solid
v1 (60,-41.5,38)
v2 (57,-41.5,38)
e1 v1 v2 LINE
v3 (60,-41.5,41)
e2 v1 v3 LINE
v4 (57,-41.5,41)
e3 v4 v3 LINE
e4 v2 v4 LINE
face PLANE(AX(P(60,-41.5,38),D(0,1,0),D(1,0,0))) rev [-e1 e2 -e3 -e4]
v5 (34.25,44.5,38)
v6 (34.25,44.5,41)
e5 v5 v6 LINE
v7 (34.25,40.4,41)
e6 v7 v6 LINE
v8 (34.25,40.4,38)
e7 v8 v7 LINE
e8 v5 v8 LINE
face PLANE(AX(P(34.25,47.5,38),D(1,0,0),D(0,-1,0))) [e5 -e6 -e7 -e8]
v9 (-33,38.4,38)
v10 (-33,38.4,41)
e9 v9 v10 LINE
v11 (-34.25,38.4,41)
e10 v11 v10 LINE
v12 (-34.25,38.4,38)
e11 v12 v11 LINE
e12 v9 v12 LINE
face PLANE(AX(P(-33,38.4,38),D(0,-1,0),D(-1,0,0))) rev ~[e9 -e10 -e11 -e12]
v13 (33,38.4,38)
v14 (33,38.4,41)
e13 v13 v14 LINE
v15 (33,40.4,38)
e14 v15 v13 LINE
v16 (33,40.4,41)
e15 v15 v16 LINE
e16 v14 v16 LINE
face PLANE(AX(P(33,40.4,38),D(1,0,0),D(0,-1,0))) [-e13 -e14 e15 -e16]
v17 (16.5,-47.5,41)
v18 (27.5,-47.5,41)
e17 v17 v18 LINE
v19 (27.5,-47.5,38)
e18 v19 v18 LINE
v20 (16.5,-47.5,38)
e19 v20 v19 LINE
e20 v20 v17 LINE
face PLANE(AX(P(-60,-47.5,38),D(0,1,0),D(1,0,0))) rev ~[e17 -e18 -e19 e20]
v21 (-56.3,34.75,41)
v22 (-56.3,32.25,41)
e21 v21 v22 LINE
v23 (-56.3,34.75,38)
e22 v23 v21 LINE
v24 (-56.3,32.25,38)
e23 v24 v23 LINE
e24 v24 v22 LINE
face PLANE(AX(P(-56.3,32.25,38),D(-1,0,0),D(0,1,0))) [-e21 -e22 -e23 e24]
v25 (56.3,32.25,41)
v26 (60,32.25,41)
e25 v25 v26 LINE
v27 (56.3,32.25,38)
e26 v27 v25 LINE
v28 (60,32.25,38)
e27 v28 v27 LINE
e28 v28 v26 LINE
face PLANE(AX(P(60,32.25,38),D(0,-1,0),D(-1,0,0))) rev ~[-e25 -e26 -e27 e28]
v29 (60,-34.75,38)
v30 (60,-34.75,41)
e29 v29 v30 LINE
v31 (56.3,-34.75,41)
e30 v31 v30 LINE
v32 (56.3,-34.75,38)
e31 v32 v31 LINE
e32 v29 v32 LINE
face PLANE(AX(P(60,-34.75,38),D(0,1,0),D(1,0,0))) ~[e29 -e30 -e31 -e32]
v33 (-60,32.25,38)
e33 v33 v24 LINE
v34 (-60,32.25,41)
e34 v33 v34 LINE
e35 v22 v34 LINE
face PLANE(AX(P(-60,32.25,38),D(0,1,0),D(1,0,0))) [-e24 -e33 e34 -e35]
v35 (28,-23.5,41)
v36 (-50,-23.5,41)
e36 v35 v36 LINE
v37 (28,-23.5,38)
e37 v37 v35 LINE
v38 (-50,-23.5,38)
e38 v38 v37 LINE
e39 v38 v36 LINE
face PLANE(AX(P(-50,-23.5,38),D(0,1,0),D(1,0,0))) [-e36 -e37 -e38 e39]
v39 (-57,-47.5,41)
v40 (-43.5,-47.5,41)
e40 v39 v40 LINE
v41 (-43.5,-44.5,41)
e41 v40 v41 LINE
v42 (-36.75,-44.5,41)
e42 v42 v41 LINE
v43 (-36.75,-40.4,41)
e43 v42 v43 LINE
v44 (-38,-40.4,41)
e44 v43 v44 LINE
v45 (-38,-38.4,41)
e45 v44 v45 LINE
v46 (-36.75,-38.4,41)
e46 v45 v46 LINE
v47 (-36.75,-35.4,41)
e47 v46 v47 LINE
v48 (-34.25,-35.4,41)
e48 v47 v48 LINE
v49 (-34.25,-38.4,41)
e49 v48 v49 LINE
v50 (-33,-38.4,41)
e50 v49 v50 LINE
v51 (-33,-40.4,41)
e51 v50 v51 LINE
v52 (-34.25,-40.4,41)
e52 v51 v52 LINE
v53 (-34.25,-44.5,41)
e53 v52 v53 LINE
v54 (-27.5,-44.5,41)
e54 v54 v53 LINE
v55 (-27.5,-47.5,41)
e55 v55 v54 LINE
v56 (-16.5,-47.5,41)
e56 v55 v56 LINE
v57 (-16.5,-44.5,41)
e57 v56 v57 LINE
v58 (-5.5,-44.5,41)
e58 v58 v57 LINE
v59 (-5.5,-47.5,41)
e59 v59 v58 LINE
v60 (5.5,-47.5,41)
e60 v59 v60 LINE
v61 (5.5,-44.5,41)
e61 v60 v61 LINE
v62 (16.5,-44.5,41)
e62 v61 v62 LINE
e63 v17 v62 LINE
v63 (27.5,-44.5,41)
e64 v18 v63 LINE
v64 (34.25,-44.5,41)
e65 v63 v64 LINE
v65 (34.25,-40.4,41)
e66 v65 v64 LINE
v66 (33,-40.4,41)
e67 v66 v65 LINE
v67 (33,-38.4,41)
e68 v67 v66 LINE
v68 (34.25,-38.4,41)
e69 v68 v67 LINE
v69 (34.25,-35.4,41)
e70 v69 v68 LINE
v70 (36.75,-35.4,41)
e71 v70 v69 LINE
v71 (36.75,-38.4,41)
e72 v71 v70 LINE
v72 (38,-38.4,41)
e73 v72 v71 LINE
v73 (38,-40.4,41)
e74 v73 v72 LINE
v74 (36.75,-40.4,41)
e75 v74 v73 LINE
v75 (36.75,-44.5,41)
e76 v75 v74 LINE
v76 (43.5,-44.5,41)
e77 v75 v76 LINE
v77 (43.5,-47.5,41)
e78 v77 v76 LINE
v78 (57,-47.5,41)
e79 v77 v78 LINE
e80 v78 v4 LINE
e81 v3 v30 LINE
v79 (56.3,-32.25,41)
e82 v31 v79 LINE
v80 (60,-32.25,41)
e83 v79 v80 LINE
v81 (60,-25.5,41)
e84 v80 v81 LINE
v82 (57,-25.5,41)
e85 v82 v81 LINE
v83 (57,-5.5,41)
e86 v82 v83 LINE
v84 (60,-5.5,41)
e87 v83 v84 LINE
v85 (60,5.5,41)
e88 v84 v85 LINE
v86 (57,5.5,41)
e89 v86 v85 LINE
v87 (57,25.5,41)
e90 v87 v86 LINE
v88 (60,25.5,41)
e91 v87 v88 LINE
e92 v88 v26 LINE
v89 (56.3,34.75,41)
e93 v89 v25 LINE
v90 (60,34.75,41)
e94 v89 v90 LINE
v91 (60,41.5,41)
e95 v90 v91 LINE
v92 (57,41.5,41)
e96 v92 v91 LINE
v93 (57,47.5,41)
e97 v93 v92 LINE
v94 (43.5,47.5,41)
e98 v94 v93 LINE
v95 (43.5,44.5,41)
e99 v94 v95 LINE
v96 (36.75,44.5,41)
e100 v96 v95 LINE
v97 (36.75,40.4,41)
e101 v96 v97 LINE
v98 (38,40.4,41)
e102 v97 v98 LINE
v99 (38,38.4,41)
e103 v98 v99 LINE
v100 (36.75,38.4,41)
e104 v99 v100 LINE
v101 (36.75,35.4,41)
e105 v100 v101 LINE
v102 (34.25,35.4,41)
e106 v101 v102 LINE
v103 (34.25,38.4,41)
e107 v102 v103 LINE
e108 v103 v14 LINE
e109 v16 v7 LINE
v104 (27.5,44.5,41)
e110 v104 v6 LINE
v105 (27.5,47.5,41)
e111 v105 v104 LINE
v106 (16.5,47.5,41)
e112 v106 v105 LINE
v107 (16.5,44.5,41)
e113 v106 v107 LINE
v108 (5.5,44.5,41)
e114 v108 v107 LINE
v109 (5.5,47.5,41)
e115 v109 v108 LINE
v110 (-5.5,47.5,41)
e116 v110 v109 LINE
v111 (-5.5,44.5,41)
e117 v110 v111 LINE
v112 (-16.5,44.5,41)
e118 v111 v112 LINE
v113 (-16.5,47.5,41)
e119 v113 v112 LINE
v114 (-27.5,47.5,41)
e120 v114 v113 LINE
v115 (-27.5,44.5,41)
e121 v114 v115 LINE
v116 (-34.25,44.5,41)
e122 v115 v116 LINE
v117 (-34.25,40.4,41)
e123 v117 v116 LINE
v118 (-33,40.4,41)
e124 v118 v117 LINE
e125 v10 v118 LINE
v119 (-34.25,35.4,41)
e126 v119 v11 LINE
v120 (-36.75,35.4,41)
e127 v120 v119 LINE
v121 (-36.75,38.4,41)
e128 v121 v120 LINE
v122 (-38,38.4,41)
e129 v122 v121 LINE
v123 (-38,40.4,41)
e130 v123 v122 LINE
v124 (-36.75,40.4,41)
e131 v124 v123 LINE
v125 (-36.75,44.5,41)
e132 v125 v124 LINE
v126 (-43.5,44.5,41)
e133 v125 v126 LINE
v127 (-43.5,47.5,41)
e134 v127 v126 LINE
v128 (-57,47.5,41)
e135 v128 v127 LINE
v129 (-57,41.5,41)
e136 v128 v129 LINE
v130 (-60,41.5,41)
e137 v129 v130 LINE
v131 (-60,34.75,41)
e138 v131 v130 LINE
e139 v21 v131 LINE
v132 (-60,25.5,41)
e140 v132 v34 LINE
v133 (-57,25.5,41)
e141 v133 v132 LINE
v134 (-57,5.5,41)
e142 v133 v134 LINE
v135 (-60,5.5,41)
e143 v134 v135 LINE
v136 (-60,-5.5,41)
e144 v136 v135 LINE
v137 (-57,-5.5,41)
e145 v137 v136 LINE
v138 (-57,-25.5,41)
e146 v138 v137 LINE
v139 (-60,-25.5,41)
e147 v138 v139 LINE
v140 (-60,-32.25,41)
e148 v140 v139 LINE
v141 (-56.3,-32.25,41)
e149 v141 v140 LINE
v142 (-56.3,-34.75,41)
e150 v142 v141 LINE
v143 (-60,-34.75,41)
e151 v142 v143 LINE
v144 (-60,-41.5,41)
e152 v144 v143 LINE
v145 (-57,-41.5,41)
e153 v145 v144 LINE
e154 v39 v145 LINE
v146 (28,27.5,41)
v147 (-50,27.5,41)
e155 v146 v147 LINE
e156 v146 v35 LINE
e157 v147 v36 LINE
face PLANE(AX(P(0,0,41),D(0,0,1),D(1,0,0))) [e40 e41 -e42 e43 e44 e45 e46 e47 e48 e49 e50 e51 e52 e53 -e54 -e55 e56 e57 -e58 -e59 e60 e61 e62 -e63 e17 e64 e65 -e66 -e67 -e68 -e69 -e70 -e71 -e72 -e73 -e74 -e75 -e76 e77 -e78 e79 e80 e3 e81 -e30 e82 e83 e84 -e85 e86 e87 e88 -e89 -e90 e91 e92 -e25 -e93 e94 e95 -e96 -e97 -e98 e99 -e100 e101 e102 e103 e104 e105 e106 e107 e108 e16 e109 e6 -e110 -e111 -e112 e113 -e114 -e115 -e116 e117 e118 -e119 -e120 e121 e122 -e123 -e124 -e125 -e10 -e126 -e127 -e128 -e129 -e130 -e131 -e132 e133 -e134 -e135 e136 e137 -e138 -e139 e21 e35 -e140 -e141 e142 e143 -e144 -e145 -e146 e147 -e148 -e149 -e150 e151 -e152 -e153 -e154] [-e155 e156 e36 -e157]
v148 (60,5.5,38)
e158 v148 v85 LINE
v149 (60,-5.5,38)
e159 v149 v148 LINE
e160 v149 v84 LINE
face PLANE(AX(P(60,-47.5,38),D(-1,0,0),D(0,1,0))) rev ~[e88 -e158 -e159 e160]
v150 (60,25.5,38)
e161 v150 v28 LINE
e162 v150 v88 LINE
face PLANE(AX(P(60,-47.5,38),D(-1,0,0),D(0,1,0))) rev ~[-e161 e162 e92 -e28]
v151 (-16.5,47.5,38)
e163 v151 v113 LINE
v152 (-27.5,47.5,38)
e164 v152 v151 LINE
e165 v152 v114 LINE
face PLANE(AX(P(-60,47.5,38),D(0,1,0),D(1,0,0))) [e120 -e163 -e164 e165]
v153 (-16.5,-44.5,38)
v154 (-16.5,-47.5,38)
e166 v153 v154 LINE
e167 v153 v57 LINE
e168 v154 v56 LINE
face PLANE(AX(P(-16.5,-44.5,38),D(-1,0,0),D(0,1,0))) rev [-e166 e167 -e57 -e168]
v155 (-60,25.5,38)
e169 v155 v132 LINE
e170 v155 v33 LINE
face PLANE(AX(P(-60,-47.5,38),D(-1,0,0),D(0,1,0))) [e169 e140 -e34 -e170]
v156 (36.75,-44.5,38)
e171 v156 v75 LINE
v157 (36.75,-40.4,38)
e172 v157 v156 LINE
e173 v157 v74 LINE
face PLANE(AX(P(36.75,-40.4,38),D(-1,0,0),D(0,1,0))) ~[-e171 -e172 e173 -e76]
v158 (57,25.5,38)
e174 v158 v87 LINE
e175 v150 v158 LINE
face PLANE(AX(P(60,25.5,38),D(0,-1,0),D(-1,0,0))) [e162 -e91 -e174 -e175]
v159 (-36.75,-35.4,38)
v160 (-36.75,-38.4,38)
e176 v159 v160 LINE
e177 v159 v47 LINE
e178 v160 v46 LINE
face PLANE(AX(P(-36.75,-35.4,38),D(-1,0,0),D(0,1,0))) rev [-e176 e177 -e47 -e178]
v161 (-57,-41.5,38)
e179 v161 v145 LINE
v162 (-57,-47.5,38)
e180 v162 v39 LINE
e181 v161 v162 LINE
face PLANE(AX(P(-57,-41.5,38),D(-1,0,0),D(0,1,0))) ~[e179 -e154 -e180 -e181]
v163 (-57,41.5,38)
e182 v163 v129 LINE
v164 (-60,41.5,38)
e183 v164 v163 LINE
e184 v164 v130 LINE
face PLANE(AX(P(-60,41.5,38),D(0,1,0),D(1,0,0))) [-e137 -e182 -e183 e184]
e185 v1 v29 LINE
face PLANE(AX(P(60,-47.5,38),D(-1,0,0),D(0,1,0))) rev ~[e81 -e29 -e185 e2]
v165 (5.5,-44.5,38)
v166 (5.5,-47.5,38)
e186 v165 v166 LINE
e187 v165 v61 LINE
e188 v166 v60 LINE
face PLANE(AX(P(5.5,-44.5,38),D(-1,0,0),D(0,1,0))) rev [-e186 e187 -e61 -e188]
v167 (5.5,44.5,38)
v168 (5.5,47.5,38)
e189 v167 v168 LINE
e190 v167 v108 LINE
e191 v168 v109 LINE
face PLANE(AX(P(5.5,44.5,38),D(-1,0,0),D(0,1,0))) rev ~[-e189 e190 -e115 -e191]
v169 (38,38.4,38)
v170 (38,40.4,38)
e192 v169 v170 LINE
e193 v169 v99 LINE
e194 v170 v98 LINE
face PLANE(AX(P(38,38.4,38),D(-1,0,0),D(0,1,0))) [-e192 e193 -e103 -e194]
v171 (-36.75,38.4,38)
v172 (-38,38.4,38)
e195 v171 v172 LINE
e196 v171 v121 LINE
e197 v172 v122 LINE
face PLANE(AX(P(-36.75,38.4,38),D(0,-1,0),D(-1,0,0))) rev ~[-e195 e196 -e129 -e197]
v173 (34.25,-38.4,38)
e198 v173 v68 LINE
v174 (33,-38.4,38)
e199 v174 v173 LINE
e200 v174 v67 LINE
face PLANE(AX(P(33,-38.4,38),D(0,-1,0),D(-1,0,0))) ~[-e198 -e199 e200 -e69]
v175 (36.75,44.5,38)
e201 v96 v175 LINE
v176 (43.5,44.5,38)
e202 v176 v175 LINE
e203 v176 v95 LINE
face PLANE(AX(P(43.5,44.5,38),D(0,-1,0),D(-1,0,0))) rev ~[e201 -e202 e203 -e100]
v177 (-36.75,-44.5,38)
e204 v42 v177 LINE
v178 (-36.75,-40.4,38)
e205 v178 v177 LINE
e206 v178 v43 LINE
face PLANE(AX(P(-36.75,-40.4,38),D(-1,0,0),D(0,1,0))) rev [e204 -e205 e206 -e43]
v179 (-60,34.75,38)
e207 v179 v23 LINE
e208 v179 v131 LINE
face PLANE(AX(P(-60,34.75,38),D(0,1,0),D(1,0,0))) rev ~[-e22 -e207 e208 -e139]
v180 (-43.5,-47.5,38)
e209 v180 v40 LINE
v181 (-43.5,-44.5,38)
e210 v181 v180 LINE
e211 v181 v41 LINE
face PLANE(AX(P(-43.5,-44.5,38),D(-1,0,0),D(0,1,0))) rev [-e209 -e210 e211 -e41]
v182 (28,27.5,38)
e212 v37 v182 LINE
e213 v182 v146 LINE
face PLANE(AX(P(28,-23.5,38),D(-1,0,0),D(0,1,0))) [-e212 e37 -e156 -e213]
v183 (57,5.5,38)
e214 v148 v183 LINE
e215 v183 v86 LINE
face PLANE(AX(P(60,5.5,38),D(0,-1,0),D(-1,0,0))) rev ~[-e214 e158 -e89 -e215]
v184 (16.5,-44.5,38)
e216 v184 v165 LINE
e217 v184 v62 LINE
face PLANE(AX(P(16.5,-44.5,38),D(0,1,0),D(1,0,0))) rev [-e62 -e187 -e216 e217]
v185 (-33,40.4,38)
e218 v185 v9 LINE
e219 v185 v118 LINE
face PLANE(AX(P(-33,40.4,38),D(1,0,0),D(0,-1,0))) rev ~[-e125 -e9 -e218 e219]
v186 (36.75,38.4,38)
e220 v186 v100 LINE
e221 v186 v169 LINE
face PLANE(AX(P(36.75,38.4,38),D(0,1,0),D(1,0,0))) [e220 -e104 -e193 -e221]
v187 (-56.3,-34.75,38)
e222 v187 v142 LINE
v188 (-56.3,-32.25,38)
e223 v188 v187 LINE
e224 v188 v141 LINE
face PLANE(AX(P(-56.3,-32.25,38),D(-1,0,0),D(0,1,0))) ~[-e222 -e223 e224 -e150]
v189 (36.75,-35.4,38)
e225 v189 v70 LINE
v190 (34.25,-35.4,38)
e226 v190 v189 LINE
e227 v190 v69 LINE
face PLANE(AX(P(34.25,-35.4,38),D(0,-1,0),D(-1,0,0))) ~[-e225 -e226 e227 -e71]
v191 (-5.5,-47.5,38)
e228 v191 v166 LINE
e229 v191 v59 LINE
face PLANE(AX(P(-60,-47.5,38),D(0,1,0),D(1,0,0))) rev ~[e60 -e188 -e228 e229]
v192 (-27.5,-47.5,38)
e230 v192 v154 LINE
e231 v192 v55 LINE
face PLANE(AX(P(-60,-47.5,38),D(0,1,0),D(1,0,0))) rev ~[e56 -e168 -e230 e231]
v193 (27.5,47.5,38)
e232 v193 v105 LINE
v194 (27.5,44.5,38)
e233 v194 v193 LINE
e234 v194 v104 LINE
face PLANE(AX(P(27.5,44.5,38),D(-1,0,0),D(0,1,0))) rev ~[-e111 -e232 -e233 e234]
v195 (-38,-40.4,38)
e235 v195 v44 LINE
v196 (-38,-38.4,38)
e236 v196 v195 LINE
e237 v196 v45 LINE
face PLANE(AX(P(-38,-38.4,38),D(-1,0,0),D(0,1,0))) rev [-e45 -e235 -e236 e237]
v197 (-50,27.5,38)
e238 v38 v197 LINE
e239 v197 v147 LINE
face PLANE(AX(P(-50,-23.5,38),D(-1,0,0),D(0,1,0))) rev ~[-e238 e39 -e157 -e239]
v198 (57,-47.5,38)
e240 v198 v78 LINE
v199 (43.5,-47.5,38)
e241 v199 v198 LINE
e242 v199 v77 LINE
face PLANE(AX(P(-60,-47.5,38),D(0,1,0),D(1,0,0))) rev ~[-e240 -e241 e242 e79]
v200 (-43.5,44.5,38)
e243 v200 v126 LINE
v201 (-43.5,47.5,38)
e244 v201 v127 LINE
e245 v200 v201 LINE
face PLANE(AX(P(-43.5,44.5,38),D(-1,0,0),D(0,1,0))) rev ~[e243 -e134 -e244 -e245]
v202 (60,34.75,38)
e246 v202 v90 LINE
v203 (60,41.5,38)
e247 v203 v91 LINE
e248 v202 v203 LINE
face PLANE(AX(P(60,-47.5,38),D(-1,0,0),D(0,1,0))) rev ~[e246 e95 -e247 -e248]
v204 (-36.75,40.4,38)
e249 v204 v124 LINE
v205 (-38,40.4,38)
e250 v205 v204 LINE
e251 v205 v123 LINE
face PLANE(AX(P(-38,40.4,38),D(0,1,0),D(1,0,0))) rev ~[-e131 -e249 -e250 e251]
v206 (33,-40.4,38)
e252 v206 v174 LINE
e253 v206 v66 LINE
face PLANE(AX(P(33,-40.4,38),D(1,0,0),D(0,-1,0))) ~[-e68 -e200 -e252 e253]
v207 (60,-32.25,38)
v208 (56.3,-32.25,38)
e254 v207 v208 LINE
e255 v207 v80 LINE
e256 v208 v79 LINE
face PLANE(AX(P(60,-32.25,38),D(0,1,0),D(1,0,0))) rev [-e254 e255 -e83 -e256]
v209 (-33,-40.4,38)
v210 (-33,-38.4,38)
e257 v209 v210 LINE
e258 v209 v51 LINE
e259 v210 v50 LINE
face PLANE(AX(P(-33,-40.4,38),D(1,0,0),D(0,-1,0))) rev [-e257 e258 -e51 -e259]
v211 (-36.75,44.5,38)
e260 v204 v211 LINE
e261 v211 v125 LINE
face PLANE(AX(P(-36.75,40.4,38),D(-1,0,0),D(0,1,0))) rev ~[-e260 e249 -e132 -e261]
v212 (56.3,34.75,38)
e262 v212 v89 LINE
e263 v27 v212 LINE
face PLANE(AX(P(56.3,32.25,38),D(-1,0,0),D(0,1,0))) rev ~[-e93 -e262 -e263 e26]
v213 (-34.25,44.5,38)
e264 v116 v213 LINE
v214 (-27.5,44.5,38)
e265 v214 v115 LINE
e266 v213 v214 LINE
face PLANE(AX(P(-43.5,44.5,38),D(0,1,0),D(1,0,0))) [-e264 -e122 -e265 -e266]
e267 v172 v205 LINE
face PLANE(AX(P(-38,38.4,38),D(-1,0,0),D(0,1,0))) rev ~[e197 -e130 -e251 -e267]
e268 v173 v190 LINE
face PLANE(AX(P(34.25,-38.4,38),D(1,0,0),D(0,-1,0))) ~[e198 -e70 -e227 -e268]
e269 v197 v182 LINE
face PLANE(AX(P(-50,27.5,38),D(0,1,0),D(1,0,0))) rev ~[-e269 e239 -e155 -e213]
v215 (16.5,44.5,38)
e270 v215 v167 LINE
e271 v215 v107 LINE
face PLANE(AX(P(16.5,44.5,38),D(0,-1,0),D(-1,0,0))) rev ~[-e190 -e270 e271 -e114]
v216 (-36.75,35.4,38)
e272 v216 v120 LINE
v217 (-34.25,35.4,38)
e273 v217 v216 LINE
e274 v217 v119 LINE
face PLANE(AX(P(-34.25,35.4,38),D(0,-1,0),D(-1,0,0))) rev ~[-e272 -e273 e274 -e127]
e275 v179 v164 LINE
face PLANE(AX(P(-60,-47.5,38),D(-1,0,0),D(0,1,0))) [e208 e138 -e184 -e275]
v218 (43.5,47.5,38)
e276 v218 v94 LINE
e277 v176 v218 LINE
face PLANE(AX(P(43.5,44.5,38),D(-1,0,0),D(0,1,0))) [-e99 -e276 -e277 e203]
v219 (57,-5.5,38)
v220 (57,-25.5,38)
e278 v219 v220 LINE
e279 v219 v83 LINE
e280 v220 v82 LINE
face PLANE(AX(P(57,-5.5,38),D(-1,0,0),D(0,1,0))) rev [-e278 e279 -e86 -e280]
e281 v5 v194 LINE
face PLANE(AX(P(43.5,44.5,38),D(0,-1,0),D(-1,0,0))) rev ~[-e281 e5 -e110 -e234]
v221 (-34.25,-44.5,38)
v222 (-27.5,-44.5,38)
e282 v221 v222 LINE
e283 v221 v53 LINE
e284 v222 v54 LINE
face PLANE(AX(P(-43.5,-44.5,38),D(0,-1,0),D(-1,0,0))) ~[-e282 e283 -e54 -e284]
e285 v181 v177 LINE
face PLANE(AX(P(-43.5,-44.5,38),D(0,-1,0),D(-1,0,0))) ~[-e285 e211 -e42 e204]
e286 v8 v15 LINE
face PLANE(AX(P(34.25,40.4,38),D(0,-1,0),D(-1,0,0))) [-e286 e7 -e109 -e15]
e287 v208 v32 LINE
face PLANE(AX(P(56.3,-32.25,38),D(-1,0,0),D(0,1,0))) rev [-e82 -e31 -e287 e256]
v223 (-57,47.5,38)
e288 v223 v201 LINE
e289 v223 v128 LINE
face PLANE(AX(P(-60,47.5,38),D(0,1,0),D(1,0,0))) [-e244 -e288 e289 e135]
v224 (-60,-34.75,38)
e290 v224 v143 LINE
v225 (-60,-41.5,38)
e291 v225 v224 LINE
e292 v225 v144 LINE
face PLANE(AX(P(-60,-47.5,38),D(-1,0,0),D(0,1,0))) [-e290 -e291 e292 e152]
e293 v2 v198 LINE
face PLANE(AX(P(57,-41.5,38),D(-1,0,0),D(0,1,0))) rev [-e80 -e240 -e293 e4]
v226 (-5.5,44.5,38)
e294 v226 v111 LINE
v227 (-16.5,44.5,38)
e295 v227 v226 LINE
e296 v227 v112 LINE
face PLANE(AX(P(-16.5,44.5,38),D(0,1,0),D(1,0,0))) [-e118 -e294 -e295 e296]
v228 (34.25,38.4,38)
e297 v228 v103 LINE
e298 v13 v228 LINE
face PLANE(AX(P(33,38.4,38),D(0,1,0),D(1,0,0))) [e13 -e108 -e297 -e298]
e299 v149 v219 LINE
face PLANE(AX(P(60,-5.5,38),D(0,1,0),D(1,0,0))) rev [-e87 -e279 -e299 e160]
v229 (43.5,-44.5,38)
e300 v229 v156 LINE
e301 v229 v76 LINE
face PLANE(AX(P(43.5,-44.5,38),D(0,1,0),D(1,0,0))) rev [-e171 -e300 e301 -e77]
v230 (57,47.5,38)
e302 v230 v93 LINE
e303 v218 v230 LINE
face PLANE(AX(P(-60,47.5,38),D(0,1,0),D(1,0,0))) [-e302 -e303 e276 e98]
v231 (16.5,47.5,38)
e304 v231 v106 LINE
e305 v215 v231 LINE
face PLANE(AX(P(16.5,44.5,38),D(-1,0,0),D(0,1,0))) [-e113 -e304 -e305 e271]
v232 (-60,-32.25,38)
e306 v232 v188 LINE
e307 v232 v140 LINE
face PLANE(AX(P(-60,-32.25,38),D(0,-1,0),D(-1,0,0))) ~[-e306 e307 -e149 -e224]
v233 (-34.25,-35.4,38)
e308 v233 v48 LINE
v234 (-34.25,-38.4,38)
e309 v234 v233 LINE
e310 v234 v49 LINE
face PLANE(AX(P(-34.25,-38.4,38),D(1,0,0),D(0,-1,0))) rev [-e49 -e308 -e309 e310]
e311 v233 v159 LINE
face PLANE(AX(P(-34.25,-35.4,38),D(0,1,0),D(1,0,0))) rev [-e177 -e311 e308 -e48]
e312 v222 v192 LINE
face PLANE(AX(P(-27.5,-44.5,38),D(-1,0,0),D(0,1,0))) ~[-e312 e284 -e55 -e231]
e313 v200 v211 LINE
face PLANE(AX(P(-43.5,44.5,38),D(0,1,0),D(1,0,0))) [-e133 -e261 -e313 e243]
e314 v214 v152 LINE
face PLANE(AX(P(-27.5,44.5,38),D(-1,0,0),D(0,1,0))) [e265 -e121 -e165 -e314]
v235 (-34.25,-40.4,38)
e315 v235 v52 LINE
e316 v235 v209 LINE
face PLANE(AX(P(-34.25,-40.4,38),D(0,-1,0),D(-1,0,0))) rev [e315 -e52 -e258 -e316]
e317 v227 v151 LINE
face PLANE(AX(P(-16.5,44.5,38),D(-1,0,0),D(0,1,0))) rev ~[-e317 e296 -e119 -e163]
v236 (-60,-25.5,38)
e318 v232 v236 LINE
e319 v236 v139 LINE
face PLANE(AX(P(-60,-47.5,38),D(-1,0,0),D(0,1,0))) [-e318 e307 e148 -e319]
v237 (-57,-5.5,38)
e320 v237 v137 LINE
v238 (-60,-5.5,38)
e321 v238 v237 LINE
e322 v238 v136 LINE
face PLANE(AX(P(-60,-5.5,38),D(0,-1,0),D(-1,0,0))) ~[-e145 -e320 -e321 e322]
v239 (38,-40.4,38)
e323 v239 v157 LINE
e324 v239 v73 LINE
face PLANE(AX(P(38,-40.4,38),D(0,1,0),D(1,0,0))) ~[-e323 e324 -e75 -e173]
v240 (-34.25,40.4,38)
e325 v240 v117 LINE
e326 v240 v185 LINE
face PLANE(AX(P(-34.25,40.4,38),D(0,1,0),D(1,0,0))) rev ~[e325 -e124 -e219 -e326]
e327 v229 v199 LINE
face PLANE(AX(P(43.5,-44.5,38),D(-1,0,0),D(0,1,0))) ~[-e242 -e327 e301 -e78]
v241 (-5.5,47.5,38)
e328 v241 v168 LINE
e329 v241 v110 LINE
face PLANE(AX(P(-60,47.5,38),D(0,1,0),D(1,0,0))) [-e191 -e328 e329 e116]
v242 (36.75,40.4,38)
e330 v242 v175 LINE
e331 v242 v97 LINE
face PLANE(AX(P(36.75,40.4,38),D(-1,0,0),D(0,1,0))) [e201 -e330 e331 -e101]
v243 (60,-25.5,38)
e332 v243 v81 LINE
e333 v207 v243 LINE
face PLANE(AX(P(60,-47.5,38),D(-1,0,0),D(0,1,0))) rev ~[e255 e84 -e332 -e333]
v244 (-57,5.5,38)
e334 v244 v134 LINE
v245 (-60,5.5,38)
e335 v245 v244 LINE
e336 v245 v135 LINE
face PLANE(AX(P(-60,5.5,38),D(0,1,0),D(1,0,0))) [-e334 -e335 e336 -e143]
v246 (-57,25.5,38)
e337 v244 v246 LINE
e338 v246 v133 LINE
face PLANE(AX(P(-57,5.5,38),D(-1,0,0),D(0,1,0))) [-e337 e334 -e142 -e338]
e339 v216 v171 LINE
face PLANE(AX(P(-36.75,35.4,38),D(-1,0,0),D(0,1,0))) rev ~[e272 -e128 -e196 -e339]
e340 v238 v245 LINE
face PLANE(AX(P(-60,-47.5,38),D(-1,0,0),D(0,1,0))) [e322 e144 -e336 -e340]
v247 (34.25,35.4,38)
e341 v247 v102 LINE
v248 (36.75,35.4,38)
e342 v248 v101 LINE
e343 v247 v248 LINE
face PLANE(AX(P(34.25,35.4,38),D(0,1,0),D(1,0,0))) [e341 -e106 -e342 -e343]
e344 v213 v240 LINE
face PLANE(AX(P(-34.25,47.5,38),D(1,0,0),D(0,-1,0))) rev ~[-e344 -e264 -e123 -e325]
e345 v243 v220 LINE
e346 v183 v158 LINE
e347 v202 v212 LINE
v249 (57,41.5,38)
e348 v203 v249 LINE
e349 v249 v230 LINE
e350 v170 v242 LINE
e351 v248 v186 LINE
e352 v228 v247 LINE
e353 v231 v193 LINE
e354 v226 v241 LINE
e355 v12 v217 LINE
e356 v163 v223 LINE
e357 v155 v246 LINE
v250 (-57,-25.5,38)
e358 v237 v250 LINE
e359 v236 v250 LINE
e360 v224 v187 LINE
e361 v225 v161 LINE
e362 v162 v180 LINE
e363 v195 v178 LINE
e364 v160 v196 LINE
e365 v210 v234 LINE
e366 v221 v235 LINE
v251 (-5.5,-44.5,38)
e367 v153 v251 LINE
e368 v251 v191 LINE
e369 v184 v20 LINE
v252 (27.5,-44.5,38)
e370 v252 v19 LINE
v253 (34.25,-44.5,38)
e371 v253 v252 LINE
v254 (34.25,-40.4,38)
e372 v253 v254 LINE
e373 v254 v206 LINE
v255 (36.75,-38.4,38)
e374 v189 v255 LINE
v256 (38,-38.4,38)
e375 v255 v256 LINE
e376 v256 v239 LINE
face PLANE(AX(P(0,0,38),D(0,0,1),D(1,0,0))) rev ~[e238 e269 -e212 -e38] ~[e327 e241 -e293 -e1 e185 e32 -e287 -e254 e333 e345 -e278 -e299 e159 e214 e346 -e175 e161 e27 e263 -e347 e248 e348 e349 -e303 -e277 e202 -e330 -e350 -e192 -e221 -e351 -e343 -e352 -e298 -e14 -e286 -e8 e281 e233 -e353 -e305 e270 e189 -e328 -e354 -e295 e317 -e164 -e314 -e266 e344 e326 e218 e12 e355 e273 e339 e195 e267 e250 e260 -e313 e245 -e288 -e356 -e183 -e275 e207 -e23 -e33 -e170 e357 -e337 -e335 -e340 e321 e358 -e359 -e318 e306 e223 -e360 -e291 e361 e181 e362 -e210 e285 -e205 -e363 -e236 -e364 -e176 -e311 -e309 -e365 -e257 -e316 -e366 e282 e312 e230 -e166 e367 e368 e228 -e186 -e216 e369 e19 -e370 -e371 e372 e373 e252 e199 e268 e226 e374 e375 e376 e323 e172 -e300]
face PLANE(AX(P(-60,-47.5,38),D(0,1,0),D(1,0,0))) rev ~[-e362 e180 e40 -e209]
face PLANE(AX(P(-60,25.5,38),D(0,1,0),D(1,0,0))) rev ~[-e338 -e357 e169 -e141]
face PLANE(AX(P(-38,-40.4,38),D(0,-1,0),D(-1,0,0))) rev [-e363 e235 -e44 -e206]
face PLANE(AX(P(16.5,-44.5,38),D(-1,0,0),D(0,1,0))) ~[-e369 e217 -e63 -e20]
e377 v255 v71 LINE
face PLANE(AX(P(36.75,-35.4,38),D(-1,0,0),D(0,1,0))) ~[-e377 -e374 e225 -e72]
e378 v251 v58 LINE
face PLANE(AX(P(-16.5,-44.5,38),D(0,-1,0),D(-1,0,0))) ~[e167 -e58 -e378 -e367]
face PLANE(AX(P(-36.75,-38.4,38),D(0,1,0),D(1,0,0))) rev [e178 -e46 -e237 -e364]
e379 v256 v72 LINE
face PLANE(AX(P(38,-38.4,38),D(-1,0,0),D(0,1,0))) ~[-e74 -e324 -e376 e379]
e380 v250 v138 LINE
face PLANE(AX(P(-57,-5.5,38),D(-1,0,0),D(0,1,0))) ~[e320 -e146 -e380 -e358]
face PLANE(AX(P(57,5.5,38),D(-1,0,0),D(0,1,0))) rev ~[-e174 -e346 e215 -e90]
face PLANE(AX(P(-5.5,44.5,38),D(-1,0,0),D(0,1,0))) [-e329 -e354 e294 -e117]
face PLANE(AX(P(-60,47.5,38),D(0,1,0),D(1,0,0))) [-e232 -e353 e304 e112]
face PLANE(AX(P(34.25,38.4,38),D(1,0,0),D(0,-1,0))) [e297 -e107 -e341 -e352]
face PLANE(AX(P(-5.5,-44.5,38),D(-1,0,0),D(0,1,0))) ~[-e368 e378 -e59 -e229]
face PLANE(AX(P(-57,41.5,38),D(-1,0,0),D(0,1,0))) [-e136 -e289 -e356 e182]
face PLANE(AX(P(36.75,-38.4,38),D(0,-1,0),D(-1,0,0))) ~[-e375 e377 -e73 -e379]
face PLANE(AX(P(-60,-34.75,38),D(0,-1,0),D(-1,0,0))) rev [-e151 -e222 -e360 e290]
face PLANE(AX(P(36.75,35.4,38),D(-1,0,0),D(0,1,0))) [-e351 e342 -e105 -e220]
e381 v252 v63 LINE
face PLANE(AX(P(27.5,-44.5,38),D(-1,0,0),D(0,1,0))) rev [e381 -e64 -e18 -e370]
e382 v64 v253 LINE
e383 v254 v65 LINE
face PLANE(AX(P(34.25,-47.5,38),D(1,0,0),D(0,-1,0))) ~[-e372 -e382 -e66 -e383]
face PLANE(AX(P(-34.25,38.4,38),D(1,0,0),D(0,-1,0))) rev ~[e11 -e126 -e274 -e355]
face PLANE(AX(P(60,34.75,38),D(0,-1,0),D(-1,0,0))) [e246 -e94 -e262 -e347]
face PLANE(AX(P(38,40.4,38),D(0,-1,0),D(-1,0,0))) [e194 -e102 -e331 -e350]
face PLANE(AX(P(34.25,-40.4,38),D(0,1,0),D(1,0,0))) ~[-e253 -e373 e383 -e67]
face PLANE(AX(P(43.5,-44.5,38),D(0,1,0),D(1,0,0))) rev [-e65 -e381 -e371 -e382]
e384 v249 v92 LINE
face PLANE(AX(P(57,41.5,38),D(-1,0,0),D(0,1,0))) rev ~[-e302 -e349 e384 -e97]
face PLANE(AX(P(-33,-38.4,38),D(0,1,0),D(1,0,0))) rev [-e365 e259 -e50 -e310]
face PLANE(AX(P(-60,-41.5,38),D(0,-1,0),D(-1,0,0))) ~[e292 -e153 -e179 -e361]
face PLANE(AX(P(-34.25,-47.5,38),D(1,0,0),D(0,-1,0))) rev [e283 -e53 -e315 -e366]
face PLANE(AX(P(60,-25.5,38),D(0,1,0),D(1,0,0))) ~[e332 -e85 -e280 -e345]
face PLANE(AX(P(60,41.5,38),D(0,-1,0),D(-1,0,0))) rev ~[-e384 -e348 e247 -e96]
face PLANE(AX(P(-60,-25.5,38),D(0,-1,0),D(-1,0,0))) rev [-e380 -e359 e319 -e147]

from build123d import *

# Parameters (mm, degrees)
SKETCH004_W                   = 120
SKETCH004_H                   = 95
PAD001_DEPTH                  = 3
SKETCH005_W                   = 3
SKETCH005_H                   = 6
SKETCH005_H_2                 = 20
SKETCH005_W_2                 = 16
SKETCH005_H_3                 = 3
SKETCH005_W_3                 = 11
POCKET003_DEPTH               = 309.164355
SKETCH005_MIRRORED006_2_W     = 3
SKETCH005_MIRRORED006_2_H     = 6
SKETCH005_MIRRORED006_2_H_2   = 20
SKETCH005_MIRRORED006_2_W_2   = 16
SKETCH005_MIRRORED006_2_H_3   = 3
SKETCH005_MIRRORED006_2_W_3   = 11
POCKET003_MIRRORED006_2_DEPTH = 309.164355
SKETCH006_W                   = 3.7
SKETCH006_H                   = 2.5
POCKET004_DEPTH               = 309.164355
SKETCH006_MIRRORED008_2_W     = 3.7
SKETCH006_MIRRORED008_2_H     = 2.5
POCKET004_MIRRORED008_2_DEPTH = 309.164355
SKETCH007_W                   = 78
SKETCH007_H                   = 51
POCKET005_DEPTH               = 3.001


with BuildPart() as part:
    # Sketch004 → Pad001 (new body)
    with BuildSketch(Plane.XY):
        Rectangle(SKETCH004_W, SKETCH004_H)
    extrude(amount=PAD001_DEPTH)

    # Sketch005 → Pocket003 (cut, through all)
    with BuildSketch(Plane.XY):
        with Locations((-58.5, 44.5)):
            Rectangle(SKETCH005_W, SKETCH005_H)
        with Locations((-58.5, 15.5)):
            Rectangle(SKETCH005_W, SKETCH005_H_2)
        with Locations((-35.5, 46)):
            Rectangle(SKETCH005_W_2, SKETCH005_H_3)
        with Locations((-11, 46)):
            Rectangle(SKETCH005_W_3, SKETCH005_H_3)
    pocket003 = extrude(amount=POCKET003_DEPTH, mode=Mode.SUBTRACT)

    # Sketch005 Mirrored006 2 → Pocket003 Mirrored006 2 (cut, through all)
    with BuildSketch(Plane(origin=(0, 0, 0), x_dir=(-1, 0, 0), z_dir=(0, 0, -1))):
        with Locations((-58.5, 44.5)):
            Rectangle(SKETCH005_MIRRORED006_2_W, SKETCH005_MIRRORED006_2_H)
        with Locations((-58.5, 15.5)):
            Rectangle(SKETCH005_MIRRORED006_2_W, SKETCH005_MIRRORED006_2_H_2)
        with Locations((-35.5, 46)):
            Rectangle(SKETCH005_MIRRORED006_2_W_2, SKETCH005_MIRRORED006_2_H_3)
        with Locations((-11, 46)):
            Rectangle(SKETCH005_MIRRORED006_2_W_3, SKETCH005_MIRRORED006_2_H_3)
    pocket003_mirrored006_2 = extrude(amount=-POCKET003_MIRRORED006_2_DEPTH, mode=Mode.SUBTRACT)

    # Mirrored007: Pocket003, Pocket003 Mirrored006 2 across Sketch005 H_Axis
    add(pocket003.mirror(Plane.ZX), mode=Mode.SUBTRACT)
    add(pocket003_mirrored006_2.mirror(Plane.ZX), mode=Mode.SUBTRACT)

    # Sketch006 → Pocket004 (cut, through all)
    with BuildSketch(Plane.XY):
        with Locations((-58.15, 33.5)):
            Rectangle(SKETCH006_W, SKETCH006_H)
        Polygon((-36.75, 47.5), (-34.25, 47.5), (-34.25, 40.4), (-33, 40.4), (-33, 38.4), (-34.25, 38.4), (-34.25, 35.4), (-36.75, 35.4), (-36.75, 38.4), (-38, 38.4), (-38, 40.4), (-36.75, 40.4), align=None)
    pocket004 = extrude(amount=POCKET004_DEPTH, mode=Mode.SUBTRACT)

    # Sketch006 Mirrored008 2 → Pocket004 Mirrored008 2 (cut, through all)
    with BuildSketch(Plane(origin=(0, 0, 0), x_dir=(-1, 0, 0), z_dir=(0, 0, -1))):
        with Locations((-58.15, 33.5)):
            Rectangle(SKETCH006_MIRRORED008_2_W, SKETCH006_MIRRORED008_2_H)
        Polygon((-36.75, 47.5), (-34.25, 47.5), (-34.25, 40.4), (-33, 40.4), (-33, 38.4), (-34.25, 38.4), (-34.25, 35.4), (-36.75, 35.4), (-36.75, 38.4), (-38, 38.4), (-38, 40.4), (-36.75, 40.4), align=None)
    pocket004_mirrored008_2 = extrude(amount=-POCKET004_MIRRORED008_2_DEPTH, mode=Mode.SUBTRACT)

    # Mirrored009: Pocket004, Pocket004 Mirrored008 2 across Sketch006 H_Axis
    add(pocket004.mirror(Plane.ZX), mode=Mode.SUBTRACT)
    add(pocket004_mirrored008_2.mirror(Plane.ZX), mode=Mode.SUBTRACT)

    # Sketch007 → Pocket005 (cut, through all)
    with BuildSketch(Plane.XY):
        with Locations((-11, 2)):
            Rectangle(SKETCH007_W, SKETCH007_H)
    extrude(amount=POCKET005_DEPTH, mode=Mode.SUBTRACT)


with BuildPart() as part_1:
    # Body001 placement: moved
    add(part.part.moved(Location((0, 0, 38))))


solid = part_1.part
